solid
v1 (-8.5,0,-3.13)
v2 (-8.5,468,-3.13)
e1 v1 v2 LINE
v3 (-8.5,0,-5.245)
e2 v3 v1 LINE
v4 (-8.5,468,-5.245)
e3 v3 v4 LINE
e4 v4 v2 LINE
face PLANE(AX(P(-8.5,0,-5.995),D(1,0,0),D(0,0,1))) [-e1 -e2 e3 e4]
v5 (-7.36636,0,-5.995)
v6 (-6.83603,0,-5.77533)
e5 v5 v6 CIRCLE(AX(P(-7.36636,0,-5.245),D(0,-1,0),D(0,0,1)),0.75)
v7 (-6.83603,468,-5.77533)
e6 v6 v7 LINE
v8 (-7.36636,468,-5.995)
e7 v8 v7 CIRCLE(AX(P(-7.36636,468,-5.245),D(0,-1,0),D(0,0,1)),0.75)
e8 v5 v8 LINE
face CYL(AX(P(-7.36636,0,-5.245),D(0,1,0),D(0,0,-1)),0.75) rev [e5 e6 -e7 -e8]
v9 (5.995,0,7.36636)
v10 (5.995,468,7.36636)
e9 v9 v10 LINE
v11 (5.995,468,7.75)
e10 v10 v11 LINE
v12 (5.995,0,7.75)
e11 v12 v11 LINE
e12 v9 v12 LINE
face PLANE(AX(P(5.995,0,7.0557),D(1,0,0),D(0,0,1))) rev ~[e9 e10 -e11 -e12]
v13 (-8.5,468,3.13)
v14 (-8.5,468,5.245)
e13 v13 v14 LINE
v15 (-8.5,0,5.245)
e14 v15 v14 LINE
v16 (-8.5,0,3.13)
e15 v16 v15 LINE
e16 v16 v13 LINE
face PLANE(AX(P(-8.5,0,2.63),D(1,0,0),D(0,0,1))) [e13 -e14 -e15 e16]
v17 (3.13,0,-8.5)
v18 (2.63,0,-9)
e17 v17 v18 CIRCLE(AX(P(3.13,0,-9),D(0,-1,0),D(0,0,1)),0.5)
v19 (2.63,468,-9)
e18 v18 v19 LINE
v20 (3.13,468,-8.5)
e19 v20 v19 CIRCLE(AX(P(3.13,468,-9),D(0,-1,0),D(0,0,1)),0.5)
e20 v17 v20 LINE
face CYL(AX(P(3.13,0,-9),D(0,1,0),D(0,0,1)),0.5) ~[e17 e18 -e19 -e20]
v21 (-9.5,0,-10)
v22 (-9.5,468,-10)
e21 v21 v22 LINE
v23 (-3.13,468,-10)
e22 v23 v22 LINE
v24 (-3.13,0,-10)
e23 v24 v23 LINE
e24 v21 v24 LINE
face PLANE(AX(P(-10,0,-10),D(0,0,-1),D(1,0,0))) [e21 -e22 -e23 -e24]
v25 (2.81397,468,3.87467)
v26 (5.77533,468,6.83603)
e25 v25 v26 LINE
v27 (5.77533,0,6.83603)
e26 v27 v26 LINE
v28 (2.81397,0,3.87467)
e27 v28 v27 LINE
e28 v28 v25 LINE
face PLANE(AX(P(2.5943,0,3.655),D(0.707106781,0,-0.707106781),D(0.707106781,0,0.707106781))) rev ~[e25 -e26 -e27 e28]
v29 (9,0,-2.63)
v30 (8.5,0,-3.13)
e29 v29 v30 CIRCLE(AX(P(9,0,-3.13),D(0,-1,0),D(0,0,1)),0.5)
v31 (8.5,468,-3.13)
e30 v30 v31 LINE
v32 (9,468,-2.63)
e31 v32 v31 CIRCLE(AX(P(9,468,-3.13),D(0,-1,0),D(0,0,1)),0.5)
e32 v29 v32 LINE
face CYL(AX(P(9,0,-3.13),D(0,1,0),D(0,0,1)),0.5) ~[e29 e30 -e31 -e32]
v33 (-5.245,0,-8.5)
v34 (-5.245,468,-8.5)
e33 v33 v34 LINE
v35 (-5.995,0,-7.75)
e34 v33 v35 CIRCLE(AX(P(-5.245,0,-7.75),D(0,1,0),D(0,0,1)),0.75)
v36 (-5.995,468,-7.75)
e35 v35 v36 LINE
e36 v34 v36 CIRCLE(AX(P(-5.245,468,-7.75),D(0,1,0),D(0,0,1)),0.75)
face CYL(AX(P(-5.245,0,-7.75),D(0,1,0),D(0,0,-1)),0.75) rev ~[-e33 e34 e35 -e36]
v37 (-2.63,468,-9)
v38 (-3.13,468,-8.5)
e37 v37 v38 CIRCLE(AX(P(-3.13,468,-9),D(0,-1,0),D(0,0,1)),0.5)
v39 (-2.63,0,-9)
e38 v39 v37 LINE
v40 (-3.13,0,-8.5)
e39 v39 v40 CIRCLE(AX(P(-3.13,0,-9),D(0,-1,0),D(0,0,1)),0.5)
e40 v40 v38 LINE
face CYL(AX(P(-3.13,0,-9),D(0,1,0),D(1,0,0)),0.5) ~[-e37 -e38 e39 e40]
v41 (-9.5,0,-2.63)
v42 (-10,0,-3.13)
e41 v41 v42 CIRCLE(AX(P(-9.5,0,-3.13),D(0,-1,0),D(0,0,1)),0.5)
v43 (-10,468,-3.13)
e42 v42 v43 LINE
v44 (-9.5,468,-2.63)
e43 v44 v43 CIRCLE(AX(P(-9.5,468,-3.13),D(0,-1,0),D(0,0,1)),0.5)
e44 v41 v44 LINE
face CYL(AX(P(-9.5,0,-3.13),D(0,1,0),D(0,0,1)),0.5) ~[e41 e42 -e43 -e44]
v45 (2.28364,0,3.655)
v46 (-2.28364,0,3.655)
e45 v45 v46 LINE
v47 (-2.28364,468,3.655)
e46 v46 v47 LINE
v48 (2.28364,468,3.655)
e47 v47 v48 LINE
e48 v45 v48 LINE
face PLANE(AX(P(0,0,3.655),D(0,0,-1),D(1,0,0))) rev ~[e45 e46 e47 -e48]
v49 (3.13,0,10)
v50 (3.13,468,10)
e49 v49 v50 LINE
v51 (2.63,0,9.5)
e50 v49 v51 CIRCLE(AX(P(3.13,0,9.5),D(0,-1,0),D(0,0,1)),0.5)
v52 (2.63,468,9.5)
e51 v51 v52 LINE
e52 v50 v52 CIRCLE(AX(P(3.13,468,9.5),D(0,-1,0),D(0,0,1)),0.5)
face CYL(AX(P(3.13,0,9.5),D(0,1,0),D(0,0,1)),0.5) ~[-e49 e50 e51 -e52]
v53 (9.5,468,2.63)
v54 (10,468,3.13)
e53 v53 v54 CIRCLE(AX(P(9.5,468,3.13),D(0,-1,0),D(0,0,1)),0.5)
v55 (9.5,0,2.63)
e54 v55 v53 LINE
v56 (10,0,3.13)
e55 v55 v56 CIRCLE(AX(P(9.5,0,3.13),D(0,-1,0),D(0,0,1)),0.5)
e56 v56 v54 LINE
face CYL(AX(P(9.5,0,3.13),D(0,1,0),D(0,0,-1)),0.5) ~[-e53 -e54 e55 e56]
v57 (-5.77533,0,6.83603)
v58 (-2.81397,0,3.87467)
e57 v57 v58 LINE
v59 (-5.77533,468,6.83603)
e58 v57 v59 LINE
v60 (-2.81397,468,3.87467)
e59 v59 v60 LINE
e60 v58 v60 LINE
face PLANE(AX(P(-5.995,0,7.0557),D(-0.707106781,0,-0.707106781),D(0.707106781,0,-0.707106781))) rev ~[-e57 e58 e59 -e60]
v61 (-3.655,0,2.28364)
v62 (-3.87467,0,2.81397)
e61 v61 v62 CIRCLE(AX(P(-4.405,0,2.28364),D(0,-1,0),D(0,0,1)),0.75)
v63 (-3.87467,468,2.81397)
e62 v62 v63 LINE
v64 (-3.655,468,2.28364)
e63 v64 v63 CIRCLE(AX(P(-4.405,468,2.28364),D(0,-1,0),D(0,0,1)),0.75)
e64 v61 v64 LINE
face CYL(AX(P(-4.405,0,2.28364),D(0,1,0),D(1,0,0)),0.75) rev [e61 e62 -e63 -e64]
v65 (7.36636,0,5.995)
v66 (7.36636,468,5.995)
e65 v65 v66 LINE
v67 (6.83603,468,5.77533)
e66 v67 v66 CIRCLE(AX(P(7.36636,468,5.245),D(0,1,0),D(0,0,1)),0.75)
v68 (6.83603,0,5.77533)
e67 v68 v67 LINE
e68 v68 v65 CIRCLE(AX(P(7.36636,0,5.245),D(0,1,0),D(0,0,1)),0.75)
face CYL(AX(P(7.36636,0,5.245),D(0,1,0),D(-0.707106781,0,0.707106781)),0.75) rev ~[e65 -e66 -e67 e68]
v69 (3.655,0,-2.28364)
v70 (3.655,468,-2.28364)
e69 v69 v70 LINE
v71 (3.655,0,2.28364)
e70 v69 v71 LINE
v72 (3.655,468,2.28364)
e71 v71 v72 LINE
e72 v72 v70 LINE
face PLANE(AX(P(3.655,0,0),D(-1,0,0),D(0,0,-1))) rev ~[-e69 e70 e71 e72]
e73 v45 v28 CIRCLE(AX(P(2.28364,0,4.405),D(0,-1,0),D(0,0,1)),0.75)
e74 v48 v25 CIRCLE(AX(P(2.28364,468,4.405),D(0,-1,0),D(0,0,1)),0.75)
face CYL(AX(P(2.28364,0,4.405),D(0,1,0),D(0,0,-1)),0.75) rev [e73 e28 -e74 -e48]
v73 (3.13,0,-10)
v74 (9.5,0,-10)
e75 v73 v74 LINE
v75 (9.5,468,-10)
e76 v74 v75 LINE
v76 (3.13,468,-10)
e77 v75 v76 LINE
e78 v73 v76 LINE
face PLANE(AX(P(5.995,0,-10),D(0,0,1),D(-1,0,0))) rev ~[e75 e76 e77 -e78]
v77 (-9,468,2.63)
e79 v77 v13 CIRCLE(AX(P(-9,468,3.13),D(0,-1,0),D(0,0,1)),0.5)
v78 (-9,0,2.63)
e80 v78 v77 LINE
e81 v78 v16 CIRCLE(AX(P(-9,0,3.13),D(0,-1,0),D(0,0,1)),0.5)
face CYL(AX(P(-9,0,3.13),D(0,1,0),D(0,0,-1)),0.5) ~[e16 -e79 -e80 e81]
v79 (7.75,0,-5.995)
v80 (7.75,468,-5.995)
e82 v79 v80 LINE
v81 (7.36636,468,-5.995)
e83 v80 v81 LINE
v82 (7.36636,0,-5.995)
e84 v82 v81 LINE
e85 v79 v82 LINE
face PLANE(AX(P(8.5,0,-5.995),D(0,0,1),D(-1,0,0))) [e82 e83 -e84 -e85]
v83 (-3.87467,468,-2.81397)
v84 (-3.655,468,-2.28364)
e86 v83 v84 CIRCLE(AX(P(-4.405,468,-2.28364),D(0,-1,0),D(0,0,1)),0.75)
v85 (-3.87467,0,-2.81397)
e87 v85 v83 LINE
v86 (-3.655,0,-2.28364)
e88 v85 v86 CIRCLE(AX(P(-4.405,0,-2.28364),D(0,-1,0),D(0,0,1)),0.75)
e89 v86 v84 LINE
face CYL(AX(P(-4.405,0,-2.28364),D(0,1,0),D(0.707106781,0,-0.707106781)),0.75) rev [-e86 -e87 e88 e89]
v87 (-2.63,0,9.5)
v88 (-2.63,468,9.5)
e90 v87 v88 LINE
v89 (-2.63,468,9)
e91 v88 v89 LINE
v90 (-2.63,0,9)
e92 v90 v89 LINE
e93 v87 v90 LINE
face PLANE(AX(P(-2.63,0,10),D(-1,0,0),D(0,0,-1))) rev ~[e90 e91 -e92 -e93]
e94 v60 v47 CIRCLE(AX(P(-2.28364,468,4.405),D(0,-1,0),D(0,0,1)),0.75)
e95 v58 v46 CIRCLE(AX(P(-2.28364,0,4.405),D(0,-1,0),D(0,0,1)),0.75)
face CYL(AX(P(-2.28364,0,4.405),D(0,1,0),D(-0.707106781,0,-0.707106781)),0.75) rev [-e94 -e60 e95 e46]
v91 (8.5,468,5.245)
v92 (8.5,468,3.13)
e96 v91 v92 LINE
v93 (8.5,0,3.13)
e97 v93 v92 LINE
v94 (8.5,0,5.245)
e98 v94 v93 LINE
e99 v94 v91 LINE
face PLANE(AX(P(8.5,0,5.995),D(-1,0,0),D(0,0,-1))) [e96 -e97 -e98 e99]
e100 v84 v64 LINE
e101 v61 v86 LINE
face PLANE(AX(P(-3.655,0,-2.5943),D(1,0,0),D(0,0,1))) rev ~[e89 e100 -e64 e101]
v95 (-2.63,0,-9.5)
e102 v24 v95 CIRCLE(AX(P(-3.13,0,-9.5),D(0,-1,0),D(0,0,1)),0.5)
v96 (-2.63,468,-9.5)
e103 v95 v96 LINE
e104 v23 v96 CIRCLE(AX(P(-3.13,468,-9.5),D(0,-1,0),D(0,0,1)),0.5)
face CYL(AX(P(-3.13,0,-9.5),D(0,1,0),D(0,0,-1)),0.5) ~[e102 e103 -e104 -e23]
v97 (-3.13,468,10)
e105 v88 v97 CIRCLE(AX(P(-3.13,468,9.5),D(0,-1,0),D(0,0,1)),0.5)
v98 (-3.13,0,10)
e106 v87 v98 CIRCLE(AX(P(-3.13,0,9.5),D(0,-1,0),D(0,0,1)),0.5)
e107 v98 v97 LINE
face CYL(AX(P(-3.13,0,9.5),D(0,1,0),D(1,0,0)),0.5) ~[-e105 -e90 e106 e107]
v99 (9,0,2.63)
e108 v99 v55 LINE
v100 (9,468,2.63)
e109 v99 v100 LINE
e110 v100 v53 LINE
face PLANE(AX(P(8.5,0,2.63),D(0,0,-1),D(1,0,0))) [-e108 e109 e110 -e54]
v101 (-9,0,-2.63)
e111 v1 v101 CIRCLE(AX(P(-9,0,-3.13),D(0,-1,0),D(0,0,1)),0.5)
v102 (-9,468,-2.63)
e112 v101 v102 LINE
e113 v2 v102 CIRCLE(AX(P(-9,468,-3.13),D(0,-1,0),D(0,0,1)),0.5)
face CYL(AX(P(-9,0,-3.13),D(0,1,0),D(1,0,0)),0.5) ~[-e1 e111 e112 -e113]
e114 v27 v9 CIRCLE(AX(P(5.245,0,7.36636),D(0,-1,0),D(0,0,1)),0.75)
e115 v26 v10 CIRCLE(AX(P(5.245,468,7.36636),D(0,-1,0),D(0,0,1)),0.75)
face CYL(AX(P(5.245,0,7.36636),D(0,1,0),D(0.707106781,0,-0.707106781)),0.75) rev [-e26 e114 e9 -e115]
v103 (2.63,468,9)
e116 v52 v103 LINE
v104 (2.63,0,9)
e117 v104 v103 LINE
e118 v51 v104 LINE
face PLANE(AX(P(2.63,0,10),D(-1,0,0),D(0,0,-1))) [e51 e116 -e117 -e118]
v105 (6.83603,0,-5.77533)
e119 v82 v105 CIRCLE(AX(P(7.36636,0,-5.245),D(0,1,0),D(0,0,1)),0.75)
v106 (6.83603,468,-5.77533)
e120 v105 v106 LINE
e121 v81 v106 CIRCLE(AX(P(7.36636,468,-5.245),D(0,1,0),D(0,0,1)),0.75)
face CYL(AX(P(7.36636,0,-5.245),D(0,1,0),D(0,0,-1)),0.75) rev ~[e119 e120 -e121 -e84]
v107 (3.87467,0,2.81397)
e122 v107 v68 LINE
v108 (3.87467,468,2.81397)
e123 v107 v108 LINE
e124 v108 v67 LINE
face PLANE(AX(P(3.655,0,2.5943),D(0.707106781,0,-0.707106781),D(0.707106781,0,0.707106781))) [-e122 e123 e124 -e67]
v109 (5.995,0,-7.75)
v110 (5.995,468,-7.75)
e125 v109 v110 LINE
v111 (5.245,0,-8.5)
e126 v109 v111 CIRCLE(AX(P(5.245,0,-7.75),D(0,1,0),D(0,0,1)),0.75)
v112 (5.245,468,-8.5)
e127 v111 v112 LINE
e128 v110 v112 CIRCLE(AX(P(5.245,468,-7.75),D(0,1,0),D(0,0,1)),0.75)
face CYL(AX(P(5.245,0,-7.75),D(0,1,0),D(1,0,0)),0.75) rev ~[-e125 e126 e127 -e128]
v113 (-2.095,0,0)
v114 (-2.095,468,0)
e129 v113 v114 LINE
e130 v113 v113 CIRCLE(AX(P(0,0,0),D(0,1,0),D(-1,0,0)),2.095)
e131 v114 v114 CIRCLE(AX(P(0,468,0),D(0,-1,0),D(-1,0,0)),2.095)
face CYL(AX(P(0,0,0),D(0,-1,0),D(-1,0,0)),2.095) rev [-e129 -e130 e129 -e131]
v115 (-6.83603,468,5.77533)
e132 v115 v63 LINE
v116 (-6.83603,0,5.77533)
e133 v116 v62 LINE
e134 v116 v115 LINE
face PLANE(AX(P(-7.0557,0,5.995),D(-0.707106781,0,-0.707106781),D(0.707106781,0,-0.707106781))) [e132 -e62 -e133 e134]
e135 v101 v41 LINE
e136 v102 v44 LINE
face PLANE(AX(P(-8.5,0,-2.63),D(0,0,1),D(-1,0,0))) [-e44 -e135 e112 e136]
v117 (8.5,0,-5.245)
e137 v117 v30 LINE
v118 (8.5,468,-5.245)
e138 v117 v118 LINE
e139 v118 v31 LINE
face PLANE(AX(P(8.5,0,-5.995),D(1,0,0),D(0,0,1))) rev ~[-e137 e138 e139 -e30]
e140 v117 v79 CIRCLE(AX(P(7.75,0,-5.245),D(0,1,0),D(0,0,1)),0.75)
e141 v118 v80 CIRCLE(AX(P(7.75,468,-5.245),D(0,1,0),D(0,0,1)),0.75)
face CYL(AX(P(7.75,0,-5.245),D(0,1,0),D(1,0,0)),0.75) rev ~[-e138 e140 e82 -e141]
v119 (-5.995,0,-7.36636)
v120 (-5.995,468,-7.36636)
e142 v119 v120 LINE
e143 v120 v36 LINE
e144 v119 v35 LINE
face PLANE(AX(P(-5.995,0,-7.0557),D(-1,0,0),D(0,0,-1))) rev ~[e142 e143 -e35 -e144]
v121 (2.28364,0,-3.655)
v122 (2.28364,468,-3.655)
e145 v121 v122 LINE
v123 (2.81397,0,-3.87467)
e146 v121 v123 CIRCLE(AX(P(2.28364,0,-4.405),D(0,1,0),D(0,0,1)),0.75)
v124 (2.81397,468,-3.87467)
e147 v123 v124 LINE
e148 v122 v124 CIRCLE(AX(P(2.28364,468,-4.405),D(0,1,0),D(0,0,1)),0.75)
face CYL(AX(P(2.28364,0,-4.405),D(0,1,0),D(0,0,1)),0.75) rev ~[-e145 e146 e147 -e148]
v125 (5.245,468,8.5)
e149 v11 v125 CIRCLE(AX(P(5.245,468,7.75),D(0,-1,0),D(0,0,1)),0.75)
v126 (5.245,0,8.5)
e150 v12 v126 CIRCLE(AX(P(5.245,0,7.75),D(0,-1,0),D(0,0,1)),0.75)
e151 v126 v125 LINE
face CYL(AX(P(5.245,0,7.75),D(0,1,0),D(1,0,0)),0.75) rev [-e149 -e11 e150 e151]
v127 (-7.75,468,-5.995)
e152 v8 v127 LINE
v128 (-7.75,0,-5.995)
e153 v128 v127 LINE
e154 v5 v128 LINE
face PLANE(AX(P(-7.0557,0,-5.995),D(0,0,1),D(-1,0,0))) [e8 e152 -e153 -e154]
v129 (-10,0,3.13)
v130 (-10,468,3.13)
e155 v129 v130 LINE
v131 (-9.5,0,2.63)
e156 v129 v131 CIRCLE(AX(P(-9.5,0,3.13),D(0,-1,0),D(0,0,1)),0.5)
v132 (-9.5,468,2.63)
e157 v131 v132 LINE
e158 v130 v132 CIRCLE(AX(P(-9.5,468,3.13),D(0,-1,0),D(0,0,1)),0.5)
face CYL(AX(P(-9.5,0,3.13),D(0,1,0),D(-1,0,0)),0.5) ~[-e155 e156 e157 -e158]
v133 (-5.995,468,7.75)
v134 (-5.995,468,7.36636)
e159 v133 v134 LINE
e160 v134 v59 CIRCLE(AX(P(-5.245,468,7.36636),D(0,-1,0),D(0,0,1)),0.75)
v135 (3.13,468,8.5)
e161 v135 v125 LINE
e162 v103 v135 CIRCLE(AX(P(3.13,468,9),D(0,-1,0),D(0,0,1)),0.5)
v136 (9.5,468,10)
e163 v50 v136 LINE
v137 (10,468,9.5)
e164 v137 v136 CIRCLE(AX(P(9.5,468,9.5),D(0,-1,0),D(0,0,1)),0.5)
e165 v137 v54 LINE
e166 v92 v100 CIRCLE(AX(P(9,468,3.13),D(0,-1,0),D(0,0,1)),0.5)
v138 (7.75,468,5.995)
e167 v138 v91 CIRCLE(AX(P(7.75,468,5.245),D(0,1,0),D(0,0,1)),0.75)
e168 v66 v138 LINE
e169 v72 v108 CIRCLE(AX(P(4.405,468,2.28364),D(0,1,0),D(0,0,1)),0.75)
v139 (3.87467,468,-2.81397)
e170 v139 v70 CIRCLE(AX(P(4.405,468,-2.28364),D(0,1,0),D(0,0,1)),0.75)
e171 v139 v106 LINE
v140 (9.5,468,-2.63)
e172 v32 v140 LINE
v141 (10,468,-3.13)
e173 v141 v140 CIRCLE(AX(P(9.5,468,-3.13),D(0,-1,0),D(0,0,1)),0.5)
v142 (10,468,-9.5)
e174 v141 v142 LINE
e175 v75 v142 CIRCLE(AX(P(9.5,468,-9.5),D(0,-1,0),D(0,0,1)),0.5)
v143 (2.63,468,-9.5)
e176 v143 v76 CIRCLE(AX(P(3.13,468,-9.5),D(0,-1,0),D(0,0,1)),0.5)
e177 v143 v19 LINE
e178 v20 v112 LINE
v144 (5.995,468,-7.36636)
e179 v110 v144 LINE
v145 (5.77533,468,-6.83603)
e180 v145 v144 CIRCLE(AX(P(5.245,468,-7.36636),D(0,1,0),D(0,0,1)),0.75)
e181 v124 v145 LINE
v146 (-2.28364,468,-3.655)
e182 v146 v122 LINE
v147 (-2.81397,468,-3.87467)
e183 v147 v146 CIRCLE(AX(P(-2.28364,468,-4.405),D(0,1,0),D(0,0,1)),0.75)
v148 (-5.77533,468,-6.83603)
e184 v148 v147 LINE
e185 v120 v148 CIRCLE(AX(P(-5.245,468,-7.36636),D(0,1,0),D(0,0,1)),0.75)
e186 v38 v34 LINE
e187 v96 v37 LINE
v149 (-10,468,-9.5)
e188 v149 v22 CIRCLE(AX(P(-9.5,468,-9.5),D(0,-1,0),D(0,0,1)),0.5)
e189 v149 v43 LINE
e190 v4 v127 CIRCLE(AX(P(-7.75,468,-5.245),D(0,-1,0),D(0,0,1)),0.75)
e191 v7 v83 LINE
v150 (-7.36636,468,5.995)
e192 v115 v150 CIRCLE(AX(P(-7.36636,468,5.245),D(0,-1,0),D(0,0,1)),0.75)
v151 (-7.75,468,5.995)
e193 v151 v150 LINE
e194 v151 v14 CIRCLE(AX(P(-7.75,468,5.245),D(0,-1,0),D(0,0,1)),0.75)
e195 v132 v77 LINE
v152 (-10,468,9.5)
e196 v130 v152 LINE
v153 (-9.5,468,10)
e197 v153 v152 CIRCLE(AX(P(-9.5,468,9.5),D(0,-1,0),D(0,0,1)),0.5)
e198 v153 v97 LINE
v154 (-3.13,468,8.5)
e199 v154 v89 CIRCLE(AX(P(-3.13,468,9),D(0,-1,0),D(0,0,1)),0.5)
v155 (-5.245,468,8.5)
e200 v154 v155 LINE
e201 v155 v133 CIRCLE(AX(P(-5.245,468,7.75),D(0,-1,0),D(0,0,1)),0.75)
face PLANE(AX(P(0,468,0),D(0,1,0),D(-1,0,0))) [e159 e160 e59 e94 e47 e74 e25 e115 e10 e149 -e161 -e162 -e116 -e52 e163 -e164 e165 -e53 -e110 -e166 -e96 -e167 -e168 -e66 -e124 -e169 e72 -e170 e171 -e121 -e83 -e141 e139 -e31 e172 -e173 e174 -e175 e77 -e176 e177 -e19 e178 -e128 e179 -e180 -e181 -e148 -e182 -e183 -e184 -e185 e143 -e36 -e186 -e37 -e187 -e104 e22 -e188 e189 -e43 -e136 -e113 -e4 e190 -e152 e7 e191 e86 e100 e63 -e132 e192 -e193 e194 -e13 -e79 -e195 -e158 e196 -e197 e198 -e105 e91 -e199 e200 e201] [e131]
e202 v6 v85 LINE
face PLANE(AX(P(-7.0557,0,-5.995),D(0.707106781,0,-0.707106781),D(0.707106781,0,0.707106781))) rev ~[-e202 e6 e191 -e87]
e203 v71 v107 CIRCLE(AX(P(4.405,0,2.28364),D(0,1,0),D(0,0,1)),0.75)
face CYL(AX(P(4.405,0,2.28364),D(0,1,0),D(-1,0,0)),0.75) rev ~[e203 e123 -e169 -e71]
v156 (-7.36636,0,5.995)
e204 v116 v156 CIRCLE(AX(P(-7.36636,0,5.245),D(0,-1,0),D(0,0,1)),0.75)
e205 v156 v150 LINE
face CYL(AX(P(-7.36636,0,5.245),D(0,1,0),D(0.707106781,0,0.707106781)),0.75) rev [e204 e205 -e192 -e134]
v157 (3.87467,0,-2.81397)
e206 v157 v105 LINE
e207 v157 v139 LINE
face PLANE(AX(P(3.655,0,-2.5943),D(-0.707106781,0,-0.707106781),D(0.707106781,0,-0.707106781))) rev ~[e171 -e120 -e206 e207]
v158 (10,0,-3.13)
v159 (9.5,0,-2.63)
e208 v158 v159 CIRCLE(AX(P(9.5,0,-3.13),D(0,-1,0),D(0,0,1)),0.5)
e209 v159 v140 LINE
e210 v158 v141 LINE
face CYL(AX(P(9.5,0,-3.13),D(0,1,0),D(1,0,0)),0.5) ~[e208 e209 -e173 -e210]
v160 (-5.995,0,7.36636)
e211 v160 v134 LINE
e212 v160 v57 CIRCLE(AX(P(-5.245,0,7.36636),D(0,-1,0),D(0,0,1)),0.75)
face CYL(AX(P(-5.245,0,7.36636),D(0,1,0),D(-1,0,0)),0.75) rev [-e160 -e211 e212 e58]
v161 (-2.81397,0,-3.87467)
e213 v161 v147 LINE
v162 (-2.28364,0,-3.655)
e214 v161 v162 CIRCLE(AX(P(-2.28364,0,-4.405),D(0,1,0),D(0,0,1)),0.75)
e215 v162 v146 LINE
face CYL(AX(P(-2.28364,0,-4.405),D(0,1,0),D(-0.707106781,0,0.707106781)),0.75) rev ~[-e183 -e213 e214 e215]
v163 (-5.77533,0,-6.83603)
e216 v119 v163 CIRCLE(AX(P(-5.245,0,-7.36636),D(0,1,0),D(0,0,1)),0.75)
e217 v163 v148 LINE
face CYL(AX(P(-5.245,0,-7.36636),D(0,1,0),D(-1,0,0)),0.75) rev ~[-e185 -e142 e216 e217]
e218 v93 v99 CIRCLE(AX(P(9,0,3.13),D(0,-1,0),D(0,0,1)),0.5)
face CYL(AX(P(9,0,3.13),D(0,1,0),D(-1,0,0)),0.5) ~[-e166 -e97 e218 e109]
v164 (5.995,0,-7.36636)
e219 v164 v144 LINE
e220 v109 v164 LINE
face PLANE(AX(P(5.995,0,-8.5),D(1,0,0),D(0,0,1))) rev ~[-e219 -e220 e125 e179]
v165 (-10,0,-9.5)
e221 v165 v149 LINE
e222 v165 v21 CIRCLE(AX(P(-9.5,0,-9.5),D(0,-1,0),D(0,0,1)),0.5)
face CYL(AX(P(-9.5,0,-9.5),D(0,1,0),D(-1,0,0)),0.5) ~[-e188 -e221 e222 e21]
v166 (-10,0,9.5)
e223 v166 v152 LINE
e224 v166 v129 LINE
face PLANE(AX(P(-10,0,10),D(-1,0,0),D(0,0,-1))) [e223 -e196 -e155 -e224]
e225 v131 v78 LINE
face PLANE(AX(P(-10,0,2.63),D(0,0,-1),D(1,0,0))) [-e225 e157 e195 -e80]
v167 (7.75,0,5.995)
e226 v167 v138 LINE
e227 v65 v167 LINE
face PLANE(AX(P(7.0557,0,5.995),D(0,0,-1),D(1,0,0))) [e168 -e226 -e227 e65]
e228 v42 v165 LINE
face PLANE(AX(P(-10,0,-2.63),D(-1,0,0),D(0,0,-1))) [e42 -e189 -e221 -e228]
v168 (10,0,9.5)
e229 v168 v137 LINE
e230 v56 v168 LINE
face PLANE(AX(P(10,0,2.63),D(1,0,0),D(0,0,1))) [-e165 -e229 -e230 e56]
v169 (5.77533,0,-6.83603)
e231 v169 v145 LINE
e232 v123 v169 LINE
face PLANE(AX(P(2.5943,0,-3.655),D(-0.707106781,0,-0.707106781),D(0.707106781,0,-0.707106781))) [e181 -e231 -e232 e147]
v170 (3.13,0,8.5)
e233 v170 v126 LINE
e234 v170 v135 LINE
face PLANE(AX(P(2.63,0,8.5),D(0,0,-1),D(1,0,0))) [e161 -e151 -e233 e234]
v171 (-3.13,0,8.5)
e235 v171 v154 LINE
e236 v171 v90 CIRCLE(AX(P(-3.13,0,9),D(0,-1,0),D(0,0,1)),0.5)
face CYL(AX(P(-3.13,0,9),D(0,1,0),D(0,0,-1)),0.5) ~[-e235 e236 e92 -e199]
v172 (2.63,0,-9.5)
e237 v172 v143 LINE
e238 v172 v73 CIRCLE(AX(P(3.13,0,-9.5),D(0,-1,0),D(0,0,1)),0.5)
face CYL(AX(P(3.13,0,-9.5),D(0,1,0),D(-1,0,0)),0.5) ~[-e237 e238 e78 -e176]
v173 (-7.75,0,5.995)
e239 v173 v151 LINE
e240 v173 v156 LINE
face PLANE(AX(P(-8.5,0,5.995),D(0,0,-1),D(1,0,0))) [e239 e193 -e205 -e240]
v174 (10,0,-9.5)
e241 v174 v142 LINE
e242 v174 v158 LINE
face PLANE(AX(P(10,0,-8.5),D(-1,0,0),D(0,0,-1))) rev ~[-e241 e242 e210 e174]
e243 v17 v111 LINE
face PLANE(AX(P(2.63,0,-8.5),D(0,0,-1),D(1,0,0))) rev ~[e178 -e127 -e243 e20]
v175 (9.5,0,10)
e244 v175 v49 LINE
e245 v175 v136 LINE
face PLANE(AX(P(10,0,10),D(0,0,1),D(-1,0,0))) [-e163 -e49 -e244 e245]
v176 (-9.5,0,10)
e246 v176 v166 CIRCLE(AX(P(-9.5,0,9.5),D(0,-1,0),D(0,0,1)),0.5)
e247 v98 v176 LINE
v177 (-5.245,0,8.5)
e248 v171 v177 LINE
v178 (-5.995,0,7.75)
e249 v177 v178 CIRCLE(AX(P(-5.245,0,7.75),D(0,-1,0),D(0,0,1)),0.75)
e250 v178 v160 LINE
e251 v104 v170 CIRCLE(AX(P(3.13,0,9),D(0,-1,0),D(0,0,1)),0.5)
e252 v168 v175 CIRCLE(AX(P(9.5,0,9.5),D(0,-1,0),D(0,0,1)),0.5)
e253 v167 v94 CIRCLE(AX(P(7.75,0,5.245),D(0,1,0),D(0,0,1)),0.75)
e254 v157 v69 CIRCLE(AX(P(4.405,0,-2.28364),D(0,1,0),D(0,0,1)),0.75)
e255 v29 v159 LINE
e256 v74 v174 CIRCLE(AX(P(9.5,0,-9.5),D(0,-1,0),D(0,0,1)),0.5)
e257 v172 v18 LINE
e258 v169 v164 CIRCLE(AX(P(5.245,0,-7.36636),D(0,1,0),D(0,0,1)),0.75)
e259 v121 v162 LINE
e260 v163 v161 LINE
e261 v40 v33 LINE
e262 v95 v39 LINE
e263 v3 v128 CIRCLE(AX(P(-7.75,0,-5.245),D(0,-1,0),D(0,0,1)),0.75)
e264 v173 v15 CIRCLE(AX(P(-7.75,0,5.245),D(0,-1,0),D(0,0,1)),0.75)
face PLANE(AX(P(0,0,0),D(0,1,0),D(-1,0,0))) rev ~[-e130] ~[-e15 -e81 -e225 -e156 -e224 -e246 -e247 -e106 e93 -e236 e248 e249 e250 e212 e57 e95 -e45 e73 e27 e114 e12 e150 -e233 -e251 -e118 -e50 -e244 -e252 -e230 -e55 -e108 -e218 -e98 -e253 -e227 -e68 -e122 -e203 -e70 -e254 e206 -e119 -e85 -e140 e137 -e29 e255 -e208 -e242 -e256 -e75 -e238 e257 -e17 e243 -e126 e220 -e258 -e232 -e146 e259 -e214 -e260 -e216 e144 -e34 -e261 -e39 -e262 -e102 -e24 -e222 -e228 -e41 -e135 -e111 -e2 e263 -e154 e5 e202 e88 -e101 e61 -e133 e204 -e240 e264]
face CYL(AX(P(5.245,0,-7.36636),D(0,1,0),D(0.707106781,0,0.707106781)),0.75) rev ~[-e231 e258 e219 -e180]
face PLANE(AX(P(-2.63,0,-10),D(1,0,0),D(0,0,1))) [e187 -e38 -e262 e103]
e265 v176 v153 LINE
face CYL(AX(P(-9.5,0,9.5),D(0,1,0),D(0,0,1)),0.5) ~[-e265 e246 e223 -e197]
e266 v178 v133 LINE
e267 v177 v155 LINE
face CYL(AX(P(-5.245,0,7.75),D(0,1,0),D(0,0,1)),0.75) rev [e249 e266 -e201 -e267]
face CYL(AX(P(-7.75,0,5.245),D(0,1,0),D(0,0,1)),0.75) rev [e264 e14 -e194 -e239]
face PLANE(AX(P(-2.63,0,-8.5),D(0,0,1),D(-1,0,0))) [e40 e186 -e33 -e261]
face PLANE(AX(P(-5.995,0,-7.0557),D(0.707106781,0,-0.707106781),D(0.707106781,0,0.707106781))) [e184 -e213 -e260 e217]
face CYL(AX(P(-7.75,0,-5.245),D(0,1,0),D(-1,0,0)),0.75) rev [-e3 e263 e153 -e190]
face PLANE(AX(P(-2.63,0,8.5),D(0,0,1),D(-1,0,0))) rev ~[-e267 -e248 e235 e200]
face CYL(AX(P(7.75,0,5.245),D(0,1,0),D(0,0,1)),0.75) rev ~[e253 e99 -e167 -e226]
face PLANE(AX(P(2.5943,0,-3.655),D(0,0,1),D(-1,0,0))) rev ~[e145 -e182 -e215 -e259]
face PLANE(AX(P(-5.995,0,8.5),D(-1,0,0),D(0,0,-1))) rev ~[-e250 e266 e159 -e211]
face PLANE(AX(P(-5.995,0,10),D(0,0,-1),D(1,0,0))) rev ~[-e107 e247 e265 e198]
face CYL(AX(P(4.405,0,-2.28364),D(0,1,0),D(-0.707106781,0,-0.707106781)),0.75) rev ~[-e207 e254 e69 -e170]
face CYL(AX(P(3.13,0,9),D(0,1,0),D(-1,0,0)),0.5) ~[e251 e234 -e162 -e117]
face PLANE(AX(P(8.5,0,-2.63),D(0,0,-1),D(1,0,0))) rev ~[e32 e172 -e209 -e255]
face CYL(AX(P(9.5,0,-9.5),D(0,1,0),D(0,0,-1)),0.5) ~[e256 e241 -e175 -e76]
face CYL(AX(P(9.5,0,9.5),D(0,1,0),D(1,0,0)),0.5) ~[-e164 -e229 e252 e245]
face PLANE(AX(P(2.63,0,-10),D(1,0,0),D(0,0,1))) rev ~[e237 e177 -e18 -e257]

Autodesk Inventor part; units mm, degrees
ref_plane "YZ Plane" through (0, 0, 0) normal (1, 0, 0) x (0, 1, 0)
ref_plane "XZ Plane" through (0, 0, 0) normal (0, 1, 0) x (-1, 0, 0)
ref_plane "XY Plane" through (0, 0, 0) normal (0, 0, 1) x (1, 0, 0)
sketch "Sketch1" plane through (0, 0, 0) normal (0, 1, 0) x (-1, 0, 0)
  line L0 (0, -14) -> (0, 14) projected
  line L1 (-14, 0) -> (14, 0) projected
  line L2 (14, 0) -> (-14, 0) projected
  line L3 (0, -14) -> (0, 14) projected
  line L4 (2.5943, 3.655) -> (-2.5943, 3.655)
  line L5 (-3.655, 2.5943) -> (-3.655, -2.5943)
  line L6 (-2.5943, -3.655) -> (2.5943, -3.655)
  line L7 (3.655, -2.5943) -> (3.655, 2.5943)
  line L8 (-3.655, 3.655) -> (3.655, -3.655) construction
  line L9 (10, 10) -> (10, 2.63)
  line L10 (10, 2.63) -> (8.5, 2.63)
  line L11 (10, 10) -> (2.63, 10)
  line L12 (2.63, 10) -> (2.63, 8.5)
  line L13 (-10, 10) -> (-2.63, 10)
  line L14 (-2.63, 10) -> (-2.63, 8.5)
  line L15 (-10, 8.5) -> (-10, 10)
  line L16 (-10, 10) -> (-8.5, 10)
  line L17 (-8.5, 2.63) -> (-10, 2.63)
  line L18 (-10, 2.63) -> (-10, 10)
  line L19 (-10, -10) -> (-8.5, -10)
  line L20 (-8.5, -2.63) -> (-10, -2.63)
  line L21 (-10, -2.63) -> (-10, -10)
  line L22 (-10, -10) -> (-2.63, -10)
  line L23 (-2.63, -10) -> (-2.63, -8.5)
  line L24 (-10, -8.5) -> (-10, -10)
  line L25 (10, -10) -> (8.5, -10)
  line L26 (8.5, -2.63) -> (10, -2.63)
  line L27 (10, -2.63) -> (10, -10)
  line L28 (10, -10) -> (2.63, -10)
  line L29 (2.63, -10) -> (2.63, -8.5)
  line L30 (10, -8.5) -> (10, -10)
  circle A0 centre (0, 0) radius 2.095
  line L31 (5.995, -10) -> (2.63, -10)
  line L32 (-2.63, -10) -> (-5.995, -10)
  line L33 (10, -10) -> (2.63, -10)
  line L34 (-2.63, -10) -> (-10, -10)
  line L35 (10, -5.995) -> (10, -2.63)
  line L36 (10, 2.63) -> (10, 5.995)
  line L37 (10, 10) -> (10, 2.63)
  line L38 (10, -2.63) -> (10, -10)
  line L39 (-5.995, 10) -> (-2.63, 10)
  line L40 (2.63, 10) -> (5.995, 10)
  line L41 (-10, 10) -> (-2.63, 10)
  line L42 (2.63, 10) -> (10, 10)
  line L43 (-10, 5.995) -> (-10, 2.63)
  line L44 (-10, -2.63) -> (-10, -5.995)
  line L45 (-10, -10) -> (-10, -2.63)
  line L46 (-10, 2.63) -> (-10, 10)
  line L47 (-2.63, -8.5) -> (-5.995, -8.5)
  line L48 (-8.5, -5.995) -> (-8.5, -2.63)
  line L49 (-8.5, -5.995) -> (-7.0557, -5.995)
  line L50 (-5.995, -8.5) -> (-5.995, -7.0557)
  line L51 (-5.995, 7.0557) -> (-5.995, 8.5)
  line L52 (2.63, 8.5) -> (5.995, 8.5)
  line L53 (8.5, 2.63) -> (8.5, 5.995)
  line L54 (8.5, 5.995) -> (7.0557, 5.995)
  line L55 (5.995, 8.5) -> (5.995, 7.0557)
  line L56 (2.63, -8.5) -> (5.995, -8.5)
  line L57 (9.5607, -8.5) -> (10, -8.5)
  line L58 (8.5, -10) -> (8.5, -9.5607)
  line L59 (8.5, -5.995) -> (8.5, -2.63)
  line L60 (7.0557, -5.995) -> (8.5, -5.995)
  line L61 (5.995, -7.0557) -> (5.995, -8.5)
  line L62 (3.655, 3.655) -> (-0.5303, -0.5303) construction
  line L63 (-1.4814, -1.4814) -> (-3.655, -3.655) construction
  line L64 (-8.5, 10) -> (-8.5, 9.5607)
  line L65 (-8.5, 5.995) -> (-8.5, 2.63)
  line L66 (-2.63, 8.5) -> (-5.995, 8.5)
  line L67 (-9.5607, 8.5) -> (-10, 8.5)
  line L68 (-7.0557, 5.995) -> (-8.5, 5.995)
  line L69 (-3.655, 2.5943) -> (-7.0557, 5.995)
  line L70 (-2.5943, 3.655) -> (-5.995, 7.0557)
  line L71 (5.995, 7.0557) -> (2.5943, 3.655)
  line L72 (7.0557, 5.995) -> (3.655, 2.5943)
  line L73 (7.0557, -5.995) -> (3.655, -2.5943)
  line L74 (5.995, -7.0557) -> (2.5943, -3.655)
  line L75 (-2.5943, -3.655) -> (-5.995, -7.0557)
  line L76 (-3.655, -2.5943) -> (-7.0557, -5.995)
  dimension "d26" = 4.19
  dimension "d0" = 20
  dimension "d1" = 20
  dimension "d2" = 7.31
  dimension "d3" = 7.31
  dimension "d4" = 20
  dimension "d5" = 11.99
  dimension "d6" = 11.99
  dimension "d11" = 7.37
  dimension "d12" = 1.5
  dimension "d13" = 7.37
  dimension "d14" = 1.5
  dimension "d15" = 7.37
  dimension "d16" = 1.5
  dimension "d17" = 7.37
  dimension "d18" = 1.5
  dimension "d19" = 7.37
  dimension "d20" = 7.37
  dimension "d21" = 1.5
  dimension "d22" = 1.5
  dimension "d23" = 7.37
  dimension "d24" = 7.37
  dimension "d25" = 1.5
extrude "Extrusion1" add sketch "Sketch1" along normal blind 468 contours L6 L75 L50 L47 L23 L22 L19 L21 L20 L48 L49 L76 L5 L1 A0 L0 | L0 A0 L1 L7 L73 L60 L59 L26 L27 L25 L28 L29 L56 L61 L74 L6 | L1 L5 L69 L68 L65 L17 L18 L15 L13 L14 L66 L51 L70 L4 L0 A0 | A0 L0 L4 L71 L55 L52 L12 L11 L9 L10 L53 L54 L72 L7 L1
fillet "Fillet1" radius 0.5 20 edges at (10, 234, 10) (2.63, 234, 10) (-2.63, 234, 10) (-2.63, 234, 8.5) (10, 234, 2.63) (8.5, 234, 2.63) (10, 234, -2.63) (8.5, 234, -2.63) (10, 234, -10) (2.63, 234, -8.5) (-2.63, 234, -10) (-2.63, 234, -8.5) (2.63, 234, -10) (-10, 234, -10) (-8.5, 234, -2.63) (-10, 234, -2.63) (-8.5, 234, 2.63) (-10, 234, 2.63) (-10, 234, 10) (2.63, 234, 8.5)
fillet "Fillet2" radius 0.75 24 edges at (-7.0557, 234, 5.995) (-3.655, 234, 2.5943) (-8.5, 234, -5.995) (-7.0557, 234, -5.995) (-5.995, 234, -8.5) (3.655, 234, -2.5943) (7.0557, 234, -5.995) (-2.5943, 234, 3.655) (-5.995, 234, 7.0557) (3.655, 234, 2.5943) (7.0557, 234, 5.995) (8.5, 234, 5.995) (8.5, 234, -5.995) (2.5943, 234, 3.655) (5.995, 234, 7.0557) (5.995, 234, 8.5) (-5.995, 234, 8.5) (-8.5, 234, 5.995) (2.5943, 234, -3.655) (5.995, 234, -7.0557) (5.995, 234, -8.5) (-5.995, 234, -7.0557) (-2.5943, 234, -3.655) (-3.655, 234, -2.5943)
properties part number "pro20ininside"
